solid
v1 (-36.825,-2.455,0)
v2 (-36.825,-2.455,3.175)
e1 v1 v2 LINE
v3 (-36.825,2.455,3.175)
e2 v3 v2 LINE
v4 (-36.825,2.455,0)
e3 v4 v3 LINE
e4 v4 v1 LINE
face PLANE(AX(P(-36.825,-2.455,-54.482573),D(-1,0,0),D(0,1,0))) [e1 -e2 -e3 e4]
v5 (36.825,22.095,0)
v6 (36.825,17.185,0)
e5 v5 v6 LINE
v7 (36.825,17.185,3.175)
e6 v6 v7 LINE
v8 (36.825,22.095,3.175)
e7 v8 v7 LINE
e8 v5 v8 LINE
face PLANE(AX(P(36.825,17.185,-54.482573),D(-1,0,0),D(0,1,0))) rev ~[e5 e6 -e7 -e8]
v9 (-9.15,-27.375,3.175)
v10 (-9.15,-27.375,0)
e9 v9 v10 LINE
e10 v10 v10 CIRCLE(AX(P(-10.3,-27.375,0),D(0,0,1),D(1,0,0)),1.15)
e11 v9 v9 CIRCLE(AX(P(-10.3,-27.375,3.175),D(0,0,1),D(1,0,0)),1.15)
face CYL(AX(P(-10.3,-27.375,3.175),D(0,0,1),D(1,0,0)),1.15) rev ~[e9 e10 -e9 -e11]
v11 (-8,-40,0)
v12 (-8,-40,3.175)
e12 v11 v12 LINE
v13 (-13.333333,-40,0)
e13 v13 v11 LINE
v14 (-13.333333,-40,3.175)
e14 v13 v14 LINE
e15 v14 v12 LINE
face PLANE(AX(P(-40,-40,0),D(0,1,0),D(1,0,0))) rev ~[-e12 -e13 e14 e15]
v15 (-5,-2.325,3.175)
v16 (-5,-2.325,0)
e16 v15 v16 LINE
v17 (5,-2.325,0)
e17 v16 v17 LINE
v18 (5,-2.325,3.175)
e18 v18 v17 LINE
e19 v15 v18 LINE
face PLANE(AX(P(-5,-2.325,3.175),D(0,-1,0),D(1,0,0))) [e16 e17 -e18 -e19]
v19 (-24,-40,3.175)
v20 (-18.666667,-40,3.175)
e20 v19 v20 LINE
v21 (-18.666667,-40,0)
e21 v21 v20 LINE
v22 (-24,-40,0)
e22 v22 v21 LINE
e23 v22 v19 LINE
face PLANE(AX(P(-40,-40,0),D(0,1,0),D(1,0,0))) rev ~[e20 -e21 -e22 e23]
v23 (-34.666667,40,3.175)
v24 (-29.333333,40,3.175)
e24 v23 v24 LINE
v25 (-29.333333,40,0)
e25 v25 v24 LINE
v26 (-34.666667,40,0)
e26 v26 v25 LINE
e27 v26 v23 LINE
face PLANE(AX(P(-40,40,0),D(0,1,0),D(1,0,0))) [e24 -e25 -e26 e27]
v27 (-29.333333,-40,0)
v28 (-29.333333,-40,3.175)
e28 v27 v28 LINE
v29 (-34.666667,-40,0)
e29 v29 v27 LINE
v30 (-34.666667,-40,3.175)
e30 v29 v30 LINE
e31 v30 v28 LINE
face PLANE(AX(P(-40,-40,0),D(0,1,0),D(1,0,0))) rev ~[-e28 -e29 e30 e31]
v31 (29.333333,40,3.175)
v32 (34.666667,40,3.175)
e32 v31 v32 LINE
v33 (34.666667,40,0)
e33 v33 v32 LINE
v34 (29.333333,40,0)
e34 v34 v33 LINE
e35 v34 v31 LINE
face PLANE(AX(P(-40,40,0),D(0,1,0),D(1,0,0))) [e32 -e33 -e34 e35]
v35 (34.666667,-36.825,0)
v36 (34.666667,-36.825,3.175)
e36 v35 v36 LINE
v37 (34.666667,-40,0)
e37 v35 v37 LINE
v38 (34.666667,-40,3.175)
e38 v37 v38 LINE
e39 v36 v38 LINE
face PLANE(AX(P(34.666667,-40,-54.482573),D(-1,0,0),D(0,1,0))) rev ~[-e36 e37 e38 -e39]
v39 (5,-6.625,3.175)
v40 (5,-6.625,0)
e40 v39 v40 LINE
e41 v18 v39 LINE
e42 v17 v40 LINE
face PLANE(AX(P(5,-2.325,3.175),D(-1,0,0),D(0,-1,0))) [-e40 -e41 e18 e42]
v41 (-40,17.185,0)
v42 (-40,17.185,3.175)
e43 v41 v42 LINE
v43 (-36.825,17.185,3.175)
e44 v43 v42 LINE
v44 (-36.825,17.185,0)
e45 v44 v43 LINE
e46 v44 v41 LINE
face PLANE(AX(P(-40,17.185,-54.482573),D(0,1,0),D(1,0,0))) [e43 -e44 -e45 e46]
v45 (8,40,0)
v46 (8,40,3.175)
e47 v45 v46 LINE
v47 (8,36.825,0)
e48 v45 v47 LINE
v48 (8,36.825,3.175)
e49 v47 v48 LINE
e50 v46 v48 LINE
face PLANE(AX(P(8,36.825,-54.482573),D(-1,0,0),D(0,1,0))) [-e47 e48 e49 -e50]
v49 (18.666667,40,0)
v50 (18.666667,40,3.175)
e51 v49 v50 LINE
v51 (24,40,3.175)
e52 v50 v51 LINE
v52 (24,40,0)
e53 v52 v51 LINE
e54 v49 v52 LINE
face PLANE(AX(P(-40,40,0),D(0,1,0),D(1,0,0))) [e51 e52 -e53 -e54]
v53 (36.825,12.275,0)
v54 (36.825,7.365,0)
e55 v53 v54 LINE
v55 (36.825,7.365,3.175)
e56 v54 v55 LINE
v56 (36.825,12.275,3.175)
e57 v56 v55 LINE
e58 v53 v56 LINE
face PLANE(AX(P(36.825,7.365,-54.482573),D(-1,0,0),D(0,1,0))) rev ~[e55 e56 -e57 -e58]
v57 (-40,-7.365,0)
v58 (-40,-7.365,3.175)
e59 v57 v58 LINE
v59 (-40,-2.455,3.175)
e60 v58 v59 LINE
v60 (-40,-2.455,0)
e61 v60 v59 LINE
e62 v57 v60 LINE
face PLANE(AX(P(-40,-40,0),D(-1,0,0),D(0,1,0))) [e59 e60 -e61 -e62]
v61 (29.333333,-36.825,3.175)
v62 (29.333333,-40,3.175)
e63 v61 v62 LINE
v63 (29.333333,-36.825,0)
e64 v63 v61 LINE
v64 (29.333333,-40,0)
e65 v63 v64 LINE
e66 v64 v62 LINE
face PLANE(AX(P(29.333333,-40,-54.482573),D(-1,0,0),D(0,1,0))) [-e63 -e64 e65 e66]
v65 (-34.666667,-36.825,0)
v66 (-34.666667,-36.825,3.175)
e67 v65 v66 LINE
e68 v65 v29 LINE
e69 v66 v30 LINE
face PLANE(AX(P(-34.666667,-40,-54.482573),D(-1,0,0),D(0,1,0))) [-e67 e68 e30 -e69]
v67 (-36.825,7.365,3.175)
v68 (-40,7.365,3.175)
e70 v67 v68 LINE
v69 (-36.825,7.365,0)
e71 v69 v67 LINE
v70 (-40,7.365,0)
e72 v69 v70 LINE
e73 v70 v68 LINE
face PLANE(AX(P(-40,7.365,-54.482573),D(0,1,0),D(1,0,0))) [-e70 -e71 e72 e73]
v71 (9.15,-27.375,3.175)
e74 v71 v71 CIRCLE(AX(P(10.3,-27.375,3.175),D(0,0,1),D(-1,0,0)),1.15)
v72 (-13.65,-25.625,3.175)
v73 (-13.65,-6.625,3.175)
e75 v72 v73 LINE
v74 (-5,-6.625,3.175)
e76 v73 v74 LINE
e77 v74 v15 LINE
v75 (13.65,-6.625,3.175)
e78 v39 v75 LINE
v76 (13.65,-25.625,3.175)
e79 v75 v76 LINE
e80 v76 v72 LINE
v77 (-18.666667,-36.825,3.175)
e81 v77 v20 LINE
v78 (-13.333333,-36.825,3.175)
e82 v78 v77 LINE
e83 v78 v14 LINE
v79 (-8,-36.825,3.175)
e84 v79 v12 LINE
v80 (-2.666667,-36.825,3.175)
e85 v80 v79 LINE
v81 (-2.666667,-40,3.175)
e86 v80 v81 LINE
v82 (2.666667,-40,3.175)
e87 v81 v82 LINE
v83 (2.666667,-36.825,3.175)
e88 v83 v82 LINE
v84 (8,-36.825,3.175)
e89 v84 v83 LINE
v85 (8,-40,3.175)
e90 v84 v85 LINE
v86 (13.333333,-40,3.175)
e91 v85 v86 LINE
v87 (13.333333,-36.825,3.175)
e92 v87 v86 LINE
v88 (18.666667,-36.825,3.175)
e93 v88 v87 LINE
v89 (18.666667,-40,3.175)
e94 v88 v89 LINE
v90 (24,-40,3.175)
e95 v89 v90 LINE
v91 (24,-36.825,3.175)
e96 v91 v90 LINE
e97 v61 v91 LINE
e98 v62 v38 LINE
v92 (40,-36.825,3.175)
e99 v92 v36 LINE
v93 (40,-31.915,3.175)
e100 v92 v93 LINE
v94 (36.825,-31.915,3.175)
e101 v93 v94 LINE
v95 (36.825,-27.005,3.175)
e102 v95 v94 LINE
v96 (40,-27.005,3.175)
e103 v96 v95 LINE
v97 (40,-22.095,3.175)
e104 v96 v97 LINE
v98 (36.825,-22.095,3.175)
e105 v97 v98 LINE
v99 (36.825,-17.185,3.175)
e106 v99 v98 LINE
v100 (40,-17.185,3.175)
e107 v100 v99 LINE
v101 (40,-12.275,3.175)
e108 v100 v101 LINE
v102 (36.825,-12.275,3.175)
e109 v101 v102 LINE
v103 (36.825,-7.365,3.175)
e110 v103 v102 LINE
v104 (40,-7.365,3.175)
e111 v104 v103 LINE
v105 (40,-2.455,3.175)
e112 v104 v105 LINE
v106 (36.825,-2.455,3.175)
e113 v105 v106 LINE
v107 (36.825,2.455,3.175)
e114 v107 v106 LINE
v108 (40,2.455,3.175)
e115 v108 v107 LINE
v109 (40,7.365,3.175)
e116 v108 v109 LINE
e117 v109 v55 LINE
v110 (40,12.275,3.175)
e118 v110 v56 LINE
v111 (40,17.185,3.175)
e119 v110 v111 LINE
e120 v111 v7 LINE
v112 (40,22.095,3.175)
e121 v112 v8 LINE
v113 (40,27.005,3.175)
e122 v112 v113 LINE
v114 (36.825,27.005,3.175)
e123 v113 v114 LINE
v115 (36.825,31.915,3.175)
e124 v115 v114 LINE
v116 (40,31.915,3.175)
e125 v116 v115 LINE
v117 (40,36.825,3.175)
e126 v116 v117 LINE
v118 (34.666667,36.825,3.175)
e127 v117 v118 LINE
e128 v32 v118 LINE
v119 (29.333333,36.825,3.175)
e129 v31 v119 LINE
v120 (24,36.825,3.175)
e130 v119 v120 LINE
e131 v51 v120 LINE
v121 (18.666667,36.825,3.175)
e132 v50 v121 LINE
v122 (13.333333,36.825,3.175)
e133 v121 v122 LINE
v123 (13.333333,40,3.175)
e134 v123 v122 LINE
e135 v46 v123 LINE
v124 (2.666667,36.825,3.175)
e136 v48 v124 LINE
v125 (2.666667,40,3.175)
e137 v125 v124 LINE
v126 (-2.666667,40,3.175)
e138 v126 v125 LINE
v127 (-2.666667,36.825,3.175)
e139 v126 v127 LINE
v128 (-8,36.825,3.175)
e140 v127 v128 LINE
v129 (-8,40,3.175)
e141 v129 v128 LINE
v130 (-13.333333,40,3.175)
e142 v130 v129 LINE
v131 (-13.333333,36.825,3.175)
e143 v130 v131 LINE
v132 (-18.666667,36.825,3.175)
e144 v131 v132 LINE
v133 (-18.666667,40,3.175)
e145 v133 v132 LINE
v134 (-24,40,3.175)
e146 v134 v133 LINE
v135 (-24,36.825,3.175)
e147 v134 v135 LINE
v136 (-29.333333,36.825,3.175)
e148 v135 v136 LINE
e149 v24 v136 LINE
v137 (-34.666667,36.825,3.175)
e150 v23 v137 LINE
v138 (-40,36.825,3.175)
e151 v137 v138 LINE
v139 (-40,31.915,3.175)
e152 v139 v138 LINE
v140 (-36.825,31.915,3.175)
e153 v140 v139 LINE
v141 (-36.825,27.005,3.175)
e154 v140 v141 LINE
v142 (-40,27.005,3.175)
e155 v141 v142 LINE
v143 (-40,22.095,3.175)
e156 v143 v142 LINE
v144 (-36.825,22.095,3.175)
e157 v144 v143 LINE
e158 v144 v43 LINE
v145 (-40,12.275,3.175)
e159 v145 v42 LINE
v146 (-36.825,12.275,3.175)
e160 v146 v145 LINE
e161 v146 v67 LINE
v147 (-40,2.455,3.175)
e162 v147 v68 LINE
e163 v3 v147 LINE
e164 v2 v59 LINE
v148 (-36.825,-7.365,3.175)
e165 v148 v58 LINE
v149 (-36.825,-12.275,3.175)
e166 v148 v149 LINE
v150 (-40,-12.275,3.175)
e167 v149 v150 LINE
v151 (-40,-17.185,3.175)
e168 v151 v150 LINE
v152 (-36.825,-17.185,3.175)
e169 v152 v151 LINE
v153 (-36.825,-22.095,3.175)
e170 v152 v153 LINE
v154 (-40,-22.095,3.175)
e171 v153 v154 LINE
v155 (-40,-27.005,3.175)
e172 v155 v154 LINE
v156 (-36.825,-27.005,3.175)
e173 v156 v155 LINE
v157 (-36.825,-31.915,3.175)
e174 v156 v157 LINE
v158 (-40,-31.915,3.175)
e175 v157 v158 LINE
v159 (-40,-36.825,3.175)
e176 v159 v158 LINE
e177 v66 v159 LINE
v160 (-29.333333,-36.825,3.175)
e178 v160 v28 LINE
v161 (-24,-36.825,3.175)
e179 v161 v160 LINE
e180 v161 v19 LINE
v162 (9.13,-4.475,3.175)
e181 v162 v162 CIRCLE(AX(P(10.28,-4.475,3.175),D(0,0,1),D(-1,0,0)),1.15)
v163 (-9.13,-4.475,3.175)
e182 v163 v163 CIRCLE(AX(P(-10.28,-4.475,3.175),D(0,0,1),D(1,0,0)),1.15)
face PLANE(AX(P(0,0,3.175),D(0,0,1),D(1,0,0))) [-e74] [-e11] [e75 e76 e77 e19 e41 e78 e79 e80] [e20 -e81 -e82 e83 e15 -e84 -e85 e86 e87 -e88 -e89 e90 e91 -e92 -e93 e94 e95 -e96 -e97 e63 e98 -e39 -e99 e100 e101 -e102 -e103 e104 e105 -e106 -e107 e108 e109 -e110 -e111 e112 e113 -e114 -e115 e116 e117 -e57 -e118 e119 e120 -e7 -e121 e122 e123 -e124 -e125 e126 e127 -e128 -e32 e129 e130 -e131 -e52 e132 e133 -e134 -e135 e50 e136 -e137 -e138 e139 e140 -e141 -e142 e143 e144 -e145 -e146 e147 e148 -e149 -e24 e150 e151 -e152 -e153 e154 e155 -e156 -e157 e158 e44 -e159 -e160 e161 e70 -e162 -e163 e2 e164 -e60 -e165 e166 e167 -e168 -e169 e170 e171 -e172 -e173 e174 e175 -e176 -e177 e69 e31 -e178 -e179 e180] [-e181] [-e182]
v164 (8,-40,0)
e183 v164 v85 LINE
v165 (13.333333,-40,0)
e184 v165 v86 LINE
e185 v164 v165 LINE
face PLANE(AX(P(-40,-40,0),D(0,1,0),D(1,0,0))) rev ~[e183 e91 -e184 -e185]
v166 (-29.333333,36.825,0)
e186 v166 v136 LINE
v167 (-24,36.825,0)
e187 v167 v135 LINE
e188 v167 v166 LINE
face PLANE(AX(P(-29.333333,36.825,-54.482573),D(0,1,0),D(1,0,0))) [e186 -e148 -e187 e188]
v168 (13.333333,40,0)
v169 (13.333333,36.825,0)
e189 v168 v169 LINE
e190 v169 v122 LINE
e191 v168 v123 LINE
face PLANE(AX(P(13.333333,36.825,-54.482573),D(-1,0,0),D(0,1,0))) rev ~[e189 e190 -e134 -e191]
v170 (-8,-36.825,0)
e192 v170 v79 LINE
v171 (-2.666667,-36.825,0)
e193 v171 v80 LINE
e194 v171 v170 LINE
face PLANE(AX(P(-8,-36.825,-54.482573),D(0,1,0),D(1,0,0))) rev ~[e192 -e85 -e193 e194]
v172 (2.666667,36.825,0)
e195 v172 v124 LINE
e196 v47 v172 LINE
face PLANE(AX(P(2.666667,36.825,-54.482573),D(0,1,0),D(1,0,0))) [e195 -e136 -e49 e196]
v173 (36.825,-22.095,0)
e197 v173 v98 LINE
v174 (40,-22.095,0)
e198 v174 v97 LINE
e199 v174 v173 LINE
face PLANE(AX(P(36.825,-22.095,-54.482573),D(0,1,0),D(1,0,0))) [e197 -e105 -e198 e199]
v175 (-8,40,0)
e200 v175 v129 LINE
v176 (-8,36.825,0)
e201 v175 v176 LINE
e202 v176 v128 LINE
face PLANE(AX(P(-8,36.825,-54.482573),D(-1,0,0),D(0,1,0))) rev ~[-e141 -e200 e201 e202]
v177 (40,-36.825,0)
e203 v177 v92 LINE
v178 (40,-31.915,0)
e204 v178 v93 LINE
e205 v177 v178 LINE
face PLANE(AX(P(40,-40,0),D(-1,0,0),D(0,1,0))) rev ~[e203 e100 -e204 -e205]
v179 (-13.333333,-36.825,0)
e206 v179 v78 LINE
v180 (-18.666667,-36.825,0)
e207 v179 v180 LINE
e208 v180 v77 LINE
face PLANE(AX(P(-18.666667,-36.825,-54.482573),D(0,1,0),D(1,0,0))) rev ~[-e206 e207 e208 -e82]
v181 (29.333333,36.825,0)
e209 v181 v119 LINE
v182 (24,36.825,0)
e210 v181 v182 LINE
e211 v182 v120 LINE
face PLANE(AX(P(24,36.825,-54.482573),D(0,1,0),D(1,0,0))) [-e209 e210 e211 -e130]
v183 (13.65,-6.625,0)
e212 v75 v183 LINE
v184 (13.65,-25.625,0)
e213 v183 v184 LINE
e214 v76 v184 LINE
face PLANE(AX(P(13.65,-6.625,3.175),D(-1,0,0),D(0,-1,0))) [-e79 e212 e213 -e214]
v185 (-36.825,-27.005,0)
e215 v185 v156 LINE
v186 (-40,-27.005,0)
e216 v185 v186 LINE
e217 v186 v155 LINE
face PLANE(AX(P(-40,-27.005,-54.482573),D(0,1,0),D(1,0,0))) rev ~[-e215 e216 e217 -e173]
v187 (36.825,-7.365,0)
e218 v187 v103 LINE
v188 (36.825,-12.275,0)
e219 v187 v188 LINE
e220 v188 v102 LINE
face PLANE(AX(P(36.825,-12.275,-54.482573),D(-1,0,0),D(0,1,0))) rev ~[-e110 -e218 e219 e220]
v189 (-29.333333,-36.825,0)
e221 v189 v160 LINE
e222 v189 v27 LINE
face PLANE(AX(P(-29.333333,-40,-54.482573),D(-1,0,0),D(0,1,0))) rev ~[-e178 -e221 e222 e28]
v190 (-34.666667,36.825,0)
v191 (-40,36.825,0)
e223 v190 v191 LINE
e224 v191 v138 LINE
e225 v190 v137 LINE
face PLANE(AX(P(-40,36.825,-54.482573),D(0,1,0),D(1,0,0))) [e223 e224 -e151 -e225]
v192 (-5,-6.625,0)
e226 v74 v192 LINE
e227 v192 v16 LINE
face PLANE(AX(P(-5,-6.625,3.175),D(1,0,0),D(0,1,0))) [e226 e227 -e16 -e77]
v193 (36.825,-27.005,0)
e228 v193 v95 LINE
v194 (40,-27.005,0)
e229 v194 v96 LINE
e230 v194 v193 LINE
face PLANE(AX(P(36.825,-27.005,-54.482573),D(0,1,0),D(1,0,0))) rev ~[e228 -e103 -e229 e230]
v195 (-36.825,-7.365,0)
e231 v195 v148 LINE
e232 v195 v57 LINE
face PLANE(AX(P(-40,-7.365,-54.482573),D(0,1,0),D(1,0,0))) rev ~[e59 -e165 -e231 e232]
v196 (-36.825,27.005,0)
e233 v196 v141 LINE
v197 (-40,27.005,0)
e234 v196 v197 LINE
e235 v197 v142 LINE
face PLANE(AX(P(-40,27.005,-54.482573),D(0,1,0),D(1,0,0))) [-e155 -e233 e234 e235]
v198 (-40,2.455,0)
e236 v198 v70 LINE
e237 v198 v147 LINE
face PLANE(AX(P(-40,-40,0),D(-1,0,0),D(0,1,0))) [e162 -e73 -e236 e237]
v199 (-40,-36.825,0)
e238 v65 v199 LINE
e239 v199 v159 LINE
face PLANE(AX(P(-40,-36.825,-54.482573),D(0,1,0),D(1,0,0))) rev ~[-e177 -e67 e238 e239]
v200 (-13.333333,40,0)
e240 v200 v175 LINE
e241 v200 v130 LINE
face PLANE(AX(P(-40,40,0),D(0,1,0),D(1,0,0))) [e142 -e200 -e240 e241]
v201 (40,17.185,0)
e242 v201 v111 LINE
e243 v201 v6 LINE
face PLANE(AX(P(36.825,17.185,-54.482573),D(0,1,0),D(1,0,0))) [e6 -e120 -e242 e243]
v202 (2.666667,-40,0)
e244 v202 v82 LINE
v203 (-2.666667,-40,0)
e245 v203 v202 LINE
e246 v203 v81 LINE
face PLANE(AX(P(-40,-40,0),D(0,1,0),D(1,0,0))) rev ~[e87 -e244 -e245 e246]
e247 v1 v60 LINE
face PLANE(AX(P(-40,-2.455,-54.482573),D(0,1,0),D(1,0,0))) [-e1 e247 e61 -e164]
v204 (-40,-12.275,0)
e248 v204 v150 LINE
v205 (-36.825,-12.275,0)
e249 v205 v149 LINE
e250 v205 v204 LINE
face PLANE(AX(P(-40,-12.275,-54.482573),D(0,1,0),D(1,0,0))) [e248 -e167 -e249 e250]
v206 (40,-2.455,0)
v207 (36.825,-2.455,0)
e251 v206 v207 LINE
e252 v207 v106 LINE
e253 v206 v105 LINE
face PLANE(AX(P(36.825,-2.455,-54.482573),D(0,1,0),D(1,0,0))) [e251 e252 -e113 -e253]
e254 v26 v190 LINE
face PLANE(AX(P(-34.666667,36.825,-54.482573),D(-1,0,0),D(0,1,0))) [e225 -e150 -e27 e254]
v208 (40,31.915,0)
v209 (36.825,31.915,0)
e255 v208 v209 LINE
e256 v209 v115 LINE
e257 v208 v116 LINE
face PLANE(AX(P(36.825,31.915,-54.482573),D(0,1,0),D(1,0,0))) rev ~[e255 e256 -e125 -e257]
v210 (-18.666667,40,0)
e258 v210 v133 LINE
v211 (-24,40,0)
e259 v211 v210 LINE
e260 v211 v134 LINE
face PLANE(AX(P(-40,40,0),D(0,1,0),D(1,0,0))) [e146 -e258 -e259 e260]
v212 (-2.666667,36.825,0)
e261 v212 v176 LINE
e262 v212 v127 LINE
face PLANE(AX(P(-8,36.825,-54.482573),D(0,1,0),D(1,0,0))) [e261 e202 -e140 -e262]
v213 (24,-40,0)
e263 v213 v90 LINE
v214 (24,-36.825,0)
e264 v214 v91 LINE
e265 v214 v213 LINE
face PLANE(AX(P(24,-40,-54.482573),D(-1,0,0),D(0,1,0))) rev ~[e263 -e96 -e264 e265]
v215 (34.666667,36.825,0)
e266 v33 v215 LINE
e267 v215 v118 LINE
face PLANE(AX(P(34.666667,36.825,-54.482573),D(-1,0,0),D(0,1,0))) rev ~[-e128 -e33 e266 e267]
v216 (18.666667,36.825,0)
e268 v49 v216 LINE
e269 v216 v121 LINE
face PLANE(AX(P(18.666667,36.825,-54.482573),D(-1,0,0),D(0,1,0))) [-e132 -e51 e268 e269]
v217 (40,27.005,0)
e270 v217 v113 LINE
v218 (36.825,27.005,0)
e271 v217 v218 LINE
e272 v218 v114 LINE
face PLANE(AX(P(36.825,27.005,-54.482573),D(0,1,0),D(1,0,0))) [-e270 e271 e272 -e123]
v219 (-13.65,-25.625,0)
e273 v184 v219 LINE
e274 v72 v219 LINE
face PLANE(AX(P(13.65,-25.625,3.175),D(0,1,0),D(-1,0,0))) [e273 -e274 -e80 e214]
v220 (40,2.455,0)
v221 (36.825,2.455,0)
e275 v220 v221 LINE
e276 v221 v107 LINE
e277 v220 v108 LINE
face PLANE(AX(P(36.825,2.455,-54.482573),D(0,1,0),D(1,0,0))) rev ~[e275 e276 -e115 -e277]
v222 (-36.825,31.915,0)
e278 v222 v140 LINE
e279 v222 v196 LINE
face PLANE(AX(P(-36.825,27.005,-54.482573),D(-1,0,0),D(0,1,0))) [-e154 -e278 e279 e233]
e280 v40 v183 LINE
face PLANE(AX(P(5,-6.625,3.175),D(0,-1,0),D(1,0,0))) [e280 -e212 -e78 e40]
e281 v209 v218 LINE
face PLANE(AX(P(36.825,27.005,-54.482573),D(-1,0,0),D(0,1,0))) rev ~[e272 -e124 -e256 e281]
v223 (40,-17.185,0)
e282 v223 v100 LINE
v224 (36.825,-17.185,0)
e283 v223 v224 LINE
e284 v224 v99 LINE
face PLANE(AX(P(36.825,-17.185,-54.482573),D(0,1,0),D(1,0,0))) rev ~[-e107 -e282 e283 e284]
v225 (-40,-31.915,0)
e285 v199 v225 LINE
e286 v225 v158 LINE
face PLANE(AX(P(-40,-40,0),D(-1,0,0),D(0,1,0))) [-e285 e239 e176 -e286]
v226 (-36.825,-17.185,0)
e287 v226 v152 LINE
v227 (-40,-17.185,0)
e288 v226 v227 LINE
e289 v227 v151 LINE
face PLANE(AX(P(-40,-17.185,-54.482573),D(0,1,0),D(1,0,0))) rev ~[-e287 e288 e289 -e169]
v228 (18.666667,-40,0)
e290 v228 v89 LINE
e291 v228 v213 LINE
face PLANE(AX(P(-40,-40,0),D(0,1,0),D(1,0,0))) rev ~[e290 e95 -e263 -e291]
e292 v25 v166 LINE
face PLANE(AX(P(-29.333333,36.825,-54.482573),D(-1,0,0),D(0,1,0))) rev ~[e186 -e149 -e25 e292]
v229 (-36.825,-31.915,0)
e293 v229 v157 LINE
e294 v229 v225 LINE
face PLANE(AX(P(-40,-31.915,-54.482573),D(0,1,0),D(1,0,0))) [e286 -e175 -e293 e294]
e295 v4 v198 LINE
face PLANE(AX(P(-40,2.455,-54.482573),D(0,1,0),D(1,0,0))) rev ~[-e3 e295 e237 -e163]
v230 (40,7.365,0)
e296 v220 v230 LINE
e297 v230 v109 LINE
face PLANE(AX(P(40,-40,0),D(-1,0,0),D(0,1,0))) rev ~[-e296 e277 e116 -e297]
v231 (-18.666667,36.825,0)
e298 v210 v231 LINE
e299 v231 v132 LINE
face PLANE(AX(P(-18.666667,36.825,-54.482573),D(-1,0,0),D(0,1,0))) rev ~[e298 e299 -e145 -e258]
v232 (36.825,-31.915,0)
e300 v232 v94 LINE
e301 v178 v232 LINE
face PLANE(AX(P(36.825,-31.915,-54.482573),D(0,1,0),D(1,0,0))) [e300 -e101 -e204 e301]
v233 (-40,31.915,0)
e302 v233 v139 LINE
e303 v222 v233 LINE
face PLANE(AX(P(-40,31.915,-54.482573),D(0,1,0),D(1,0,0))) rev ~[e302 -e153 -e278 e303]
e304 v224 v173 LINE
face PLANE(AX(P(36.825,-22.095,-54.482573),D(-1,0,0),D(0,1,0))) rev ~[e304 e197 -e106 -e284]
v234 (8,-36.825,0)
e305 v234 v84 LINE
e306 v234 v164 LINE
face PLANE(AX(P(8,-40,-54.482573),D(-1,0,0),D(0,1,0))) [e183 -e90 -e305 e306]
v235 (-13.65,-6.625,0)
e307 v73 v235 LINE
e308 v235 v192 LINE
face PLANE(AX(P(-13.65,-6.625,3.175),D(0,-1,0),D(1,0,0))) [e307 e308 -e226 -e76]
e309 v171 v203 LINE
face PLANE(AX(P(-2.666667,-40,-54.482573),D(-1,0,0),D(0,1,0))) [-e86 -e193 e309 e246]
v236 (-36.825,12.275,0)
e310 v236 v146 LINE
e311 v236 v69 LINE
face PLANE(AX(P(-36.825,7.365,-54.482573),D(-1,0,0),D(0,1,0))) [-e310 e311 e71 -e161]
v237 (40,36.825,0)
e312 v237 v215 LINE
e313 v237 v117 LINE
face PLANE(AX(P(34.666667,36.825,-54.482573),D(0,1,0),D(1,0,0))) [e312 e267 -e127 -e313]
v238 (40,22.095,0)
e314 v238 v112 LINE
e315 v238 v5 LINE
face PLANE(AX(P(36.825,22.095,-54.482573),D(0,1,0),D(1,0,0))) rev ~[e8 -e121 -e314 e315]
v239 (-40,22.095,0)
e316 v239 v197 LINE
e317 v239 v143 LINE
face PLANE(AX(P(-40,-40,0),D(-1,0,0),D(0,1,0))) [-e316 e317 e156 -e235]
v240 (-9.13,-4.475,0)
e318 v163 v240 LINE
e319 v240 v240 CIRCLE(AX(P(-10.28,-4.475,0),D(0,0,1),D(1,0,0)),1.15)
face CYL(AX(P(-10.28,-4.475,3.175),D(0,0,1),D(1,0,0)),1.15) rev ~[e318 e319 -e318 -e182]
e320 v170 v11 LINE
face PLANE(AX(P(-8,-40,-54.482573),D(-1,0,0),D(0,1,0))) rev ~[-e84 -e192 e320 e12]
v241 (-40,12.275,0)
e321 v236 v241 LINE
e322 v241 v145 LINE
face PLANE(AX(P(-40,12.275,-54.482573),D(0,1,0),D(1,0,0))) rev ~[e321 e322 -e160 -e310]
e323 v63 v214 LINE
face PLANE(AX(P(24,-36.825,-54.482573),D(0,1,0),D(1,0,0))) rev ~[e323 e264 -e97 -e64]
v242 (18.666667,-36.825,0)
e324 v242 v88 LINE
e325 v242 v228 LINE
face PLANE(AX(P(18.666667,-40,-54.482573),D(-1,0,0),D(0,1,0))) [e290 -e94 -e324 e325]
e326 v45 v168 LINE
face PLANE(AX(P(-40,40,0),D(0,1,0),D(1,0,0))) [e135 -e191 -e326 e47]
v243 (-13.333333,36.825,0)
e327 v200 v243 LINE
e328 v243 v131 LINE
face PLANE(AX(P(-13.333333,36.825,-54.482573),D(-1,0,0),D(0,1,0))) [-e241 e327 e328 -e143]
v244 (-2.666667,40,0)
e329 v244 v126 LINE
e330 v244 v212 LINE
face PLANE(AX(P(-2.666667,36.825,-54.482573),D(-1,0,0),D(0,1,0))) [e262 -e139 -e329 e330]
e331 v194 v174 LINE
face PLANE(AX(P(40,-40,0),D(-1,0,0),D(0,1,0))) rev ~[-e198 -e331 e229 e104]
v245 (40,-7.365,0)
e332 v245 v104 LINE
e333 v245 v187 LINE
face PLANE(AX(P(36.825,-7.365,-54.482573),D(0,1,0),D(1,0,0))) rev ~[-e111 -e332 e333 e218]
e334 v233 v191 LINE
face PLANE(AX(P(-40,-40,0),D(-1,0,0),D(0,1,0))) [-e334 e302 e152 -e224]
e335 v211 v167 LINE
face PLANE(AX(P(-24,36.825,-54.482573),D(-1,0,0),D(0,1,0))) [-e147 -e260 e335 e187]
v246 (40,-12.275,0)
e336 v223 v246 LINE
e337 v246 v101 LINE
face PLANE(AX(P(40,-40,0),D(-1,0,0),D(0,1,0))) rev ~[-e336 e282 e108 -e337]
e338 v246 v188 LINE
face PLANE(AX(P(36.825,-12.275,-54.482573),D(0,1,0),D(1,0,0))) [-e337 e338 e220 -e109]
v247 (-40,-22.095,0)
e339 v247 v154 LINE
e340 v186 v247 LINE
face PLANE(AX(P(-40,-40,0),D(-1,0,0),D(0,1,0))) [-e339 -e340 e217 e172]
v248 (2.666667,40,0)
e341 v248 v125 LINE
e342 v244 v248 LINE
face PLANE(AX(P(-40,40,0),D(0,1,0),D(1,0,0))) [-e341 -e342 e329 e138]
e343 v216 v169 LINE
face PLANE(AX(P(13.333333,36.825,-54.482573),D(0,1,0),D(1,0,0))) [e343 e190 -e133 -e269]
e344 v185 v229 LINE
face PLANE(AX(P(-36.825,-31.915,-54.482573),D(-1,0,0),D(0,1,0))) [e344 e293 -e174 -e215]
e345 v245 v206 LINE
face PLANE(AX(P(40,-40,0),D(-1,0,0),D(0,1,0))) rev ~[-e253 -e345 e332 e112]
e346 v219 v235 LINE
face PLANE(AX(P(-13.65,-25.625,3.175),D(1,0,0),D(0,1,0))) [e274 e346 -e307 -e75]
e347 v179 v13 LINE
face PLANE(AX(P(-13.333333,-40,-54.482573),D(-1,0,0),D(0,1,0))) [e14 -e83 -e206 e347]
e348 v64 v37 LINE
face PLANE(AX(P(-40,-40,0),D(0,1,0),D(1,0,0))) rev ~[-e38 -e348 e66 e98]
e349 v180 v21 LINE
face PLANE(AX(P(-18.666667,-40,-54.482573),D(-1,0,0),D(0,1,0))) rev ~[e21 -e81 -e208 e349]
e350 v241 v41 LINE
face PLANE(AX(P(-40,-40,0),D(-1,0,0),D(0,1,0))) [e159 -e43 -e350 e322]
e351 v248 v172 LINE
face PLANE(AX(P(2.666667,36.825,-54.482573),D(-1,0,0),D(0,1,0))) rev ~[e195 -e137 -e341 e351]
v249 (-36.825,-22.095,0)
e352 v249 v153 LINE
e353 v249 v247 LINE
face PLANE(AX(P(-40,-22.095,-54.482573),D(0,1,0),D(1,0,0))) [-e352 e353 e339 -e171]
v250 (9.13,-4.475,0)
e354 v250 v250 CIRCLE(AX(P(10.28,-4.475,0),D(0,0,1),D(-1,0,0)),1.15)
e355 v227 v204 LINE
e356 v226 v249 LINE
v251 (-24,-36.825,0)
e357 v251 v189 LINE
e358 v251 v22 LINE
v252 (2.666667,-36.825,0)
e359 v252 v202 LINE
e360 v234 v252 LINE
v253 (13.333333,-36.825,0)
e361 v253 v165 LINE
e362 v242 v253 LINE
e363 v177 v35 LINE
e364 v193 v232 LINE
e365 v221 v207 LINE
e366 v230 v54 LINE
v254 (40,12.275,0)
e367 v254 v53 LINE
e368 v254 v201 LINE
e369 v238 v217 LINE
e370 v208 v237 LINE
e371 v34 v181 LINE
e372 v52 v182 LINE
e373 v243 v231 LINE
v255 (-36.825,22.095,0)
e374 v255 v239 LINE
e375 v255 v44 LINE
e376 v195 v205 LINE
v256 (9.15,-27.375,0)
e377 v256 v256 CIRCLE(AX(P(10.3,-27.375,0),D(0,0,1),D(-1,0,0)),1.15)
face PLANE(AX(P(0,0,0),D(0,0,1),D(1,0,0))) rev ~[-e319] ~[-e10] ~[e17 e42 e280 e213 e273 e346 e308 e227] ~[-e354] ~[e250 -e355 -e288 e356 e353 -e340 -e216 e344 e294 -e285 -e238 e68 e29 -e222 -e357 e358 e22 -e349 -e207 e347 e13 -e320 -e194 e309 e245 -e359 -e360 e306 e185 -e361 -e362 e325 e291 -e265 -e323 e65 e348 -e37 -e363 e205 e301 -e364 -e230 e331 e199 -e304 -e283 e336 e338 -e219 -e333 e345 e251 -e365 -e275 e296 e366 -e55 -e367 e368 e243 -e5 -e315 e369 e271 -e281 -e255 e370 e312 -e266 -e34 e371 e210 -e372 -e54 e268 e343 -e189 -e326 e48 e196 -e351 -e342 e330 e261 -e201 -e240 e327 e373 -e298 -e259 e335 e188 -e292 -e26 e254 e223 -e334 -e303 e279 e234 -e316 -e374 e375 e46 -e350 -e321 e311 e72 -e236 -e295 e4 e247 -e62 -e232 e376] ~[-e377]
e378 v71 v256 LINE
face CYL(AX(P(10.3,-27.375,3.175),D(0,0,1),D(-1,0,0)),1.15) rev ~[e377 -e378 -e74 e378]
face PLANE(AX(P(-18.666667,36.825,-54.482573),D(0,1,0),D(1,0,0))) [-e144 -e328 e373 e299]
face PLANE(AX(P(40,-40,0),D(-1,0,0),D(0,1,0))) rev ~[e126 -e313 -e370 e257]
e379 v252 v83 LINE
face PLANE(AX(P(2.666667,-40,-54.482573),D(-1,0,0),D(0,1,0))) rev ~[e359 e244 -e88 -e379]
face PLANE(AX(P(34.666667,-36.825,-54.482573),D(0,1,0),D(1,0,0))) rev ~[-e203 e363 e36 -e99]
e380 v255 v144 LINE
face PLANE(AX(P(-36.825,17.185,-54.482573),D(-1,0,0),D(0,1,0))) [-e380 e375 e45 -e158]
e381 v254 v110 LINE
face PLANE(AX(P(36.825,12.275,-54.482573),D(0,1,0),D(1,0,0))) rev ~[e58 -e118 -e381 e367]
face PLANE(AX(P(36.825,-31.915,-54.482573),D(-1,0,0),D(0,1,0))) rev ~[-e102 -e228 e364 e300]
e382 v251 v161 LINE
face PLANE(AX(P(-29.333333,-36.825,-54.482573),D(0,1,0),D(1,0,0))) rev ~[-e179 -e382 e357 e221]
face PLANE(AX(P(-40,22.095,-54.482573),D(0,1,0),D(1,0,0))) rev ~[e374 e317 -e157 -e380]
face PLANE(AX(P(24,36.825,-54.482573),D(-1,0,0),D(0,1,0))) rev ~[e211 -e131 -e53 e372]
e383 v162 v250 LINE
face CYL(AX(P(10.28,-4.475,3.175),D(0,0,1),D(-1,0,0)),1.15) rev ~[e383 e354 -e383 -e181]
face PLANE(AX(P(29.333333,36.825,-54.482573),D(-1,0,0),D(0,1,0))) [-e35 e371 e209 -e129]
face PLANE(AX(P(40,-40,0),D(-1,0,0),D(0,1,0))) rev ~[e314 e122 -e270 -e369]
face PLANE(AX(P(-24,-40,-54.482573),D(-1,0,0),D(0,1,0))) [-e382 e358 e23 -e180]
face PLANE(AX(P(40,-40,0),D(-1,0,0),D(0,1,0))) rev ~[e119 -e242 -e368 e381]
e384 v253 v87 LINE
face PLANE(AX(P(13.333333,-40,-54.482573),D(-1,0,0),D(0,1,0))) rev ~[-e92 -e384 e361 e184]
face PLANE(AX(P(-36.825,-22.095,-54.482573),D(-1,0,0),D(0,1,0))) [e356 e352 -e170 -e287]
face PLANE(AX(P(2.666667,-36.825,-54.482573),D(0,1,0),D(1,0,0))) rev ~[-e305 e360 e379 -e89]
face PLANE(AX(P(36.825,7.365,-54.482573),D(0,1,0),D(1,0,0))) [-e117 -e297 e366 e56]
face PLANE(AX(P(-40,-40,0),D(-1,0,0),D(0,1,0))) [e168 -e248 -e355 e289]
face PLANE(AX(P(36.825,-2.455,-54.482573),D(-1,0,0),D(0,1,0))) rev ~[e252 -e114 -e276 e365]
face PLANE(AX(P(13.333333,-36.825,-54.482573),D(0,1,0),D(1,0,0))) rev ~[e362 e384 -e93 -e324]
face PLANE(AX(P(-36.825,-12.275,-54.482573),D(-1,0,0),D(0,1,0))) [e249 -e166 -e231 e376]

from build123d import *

# Parameters (mm, degrees)
SKETCH1_W               = 80
SKETCH1_H               = 80
BOSS_EXTRUDE1_DEPTH     = 3.175
CUT_EXTRUDE2_DEPTH      = 57.657573413
CUT_EXTRUDE2_DEPTH_BACK = 57.657573413
SKETCH3_W               = 5.333333333
SKETCH3_H               = 3.175
SKETCH3_W_2             = 3.175
SKETCH3_H_2             = 4.91
SKETCH3_W_3             = 5.333333334
SKETCH4_R               = 1.15
CUT_EXTRUDE3_DEPTH      = 57.657573413


with BuildPart() as part:
    # Sketch1 → Boss-Extrude1 (new body)
    with BuildSketch(Plane.XY):
        Rectangle(SKETCH1_W, SKETCH1_H)
    extrude(amount=BOSS_EXTRUDE1_DEPTH)

    # Sketch3 → Cut-Extrude2 (cut, two sides: drawn at the far end of the back side and taken through both)
    with BuildSketch(Plane.XY.offset(3.175).offset(-CUT_EXTRUDE2_DEPTH_BACK)):
        with Locations((-37.333333334, -38.4125)):
            Rectangle(SKETCH3_W, SKETCH3_H)
        with Locations((-26.666666666, -38.4125)):
            Rectangle(SKETCH3_W, SKETCH3_H)
        with Locations((-38.4125, -29.46)):
            Rectangle(SKETCH3_W_2, SKETCH3_H_2)
        with Locations((-16, -38.4125)):
            Rectangle(SKETCH3_W_3, SKETCH3_H)
        with Locations((-38.4125, -19.64)):
            Rectangle(SKETCH3_W_2, SKETCH3_H_2)
        with Locations((-5.333333334, -38.4125)):
            Rectangle(SKETCH3_W, SKETCH3_H)
        with Locations((-38.4125, -9.82)):
            Rectangle(SKETCH3_W_2, SKETCH3_H_2)
        with Locations((5.333333334, -38.4125)):
            Rectangle(SKETCH3_W, SKETCH3_H)
        with Locations((-38.4125, 0)):
            Rectangle(SKETCH3_W_2, SKETCH3_H_2)
        with Locations((16, -38.4125)):
            Rectangle(SKETCH3_W_3, SKETCH3_H)
        with Locations((-38.4125, 9.82)):
            Rectangle(SKETCH3_W_2, SKETCH3_H_2)
        with Locations((26.666666666, -38.4125)):
            Rectangle(SKETCH3_W, SKETCH3_H)
        with Locations((-38.4125, 19.64)):
            Rectangle(SKETCH3_W_2, SKETCH3_H_2)
        with Locations((37.333333334, -38.4125)):
            Rectangle(SKETCH3_W, SKETCH3_H)
        with Locations((-38.4125, 29.46)):
            Rectangle(SKETCH3_W_2, SKETCH3_H_2)
        with Locations((-37.333333334, 38.4125)):
            Rectangle(SKETCH3_W, SKETCH3_H)
        with Locations((38.4125, -29.46)):
            Rectangle(SKETCH3_W_2, SKETCH3_H_2)
        with Locations((38.4125, -19.64)):
            Rectangle(SKETCH3_W_2, SKETCH3_H_2)
        with Locations((-26.666666666, 38.4125)):
            Rectangle(SKETCH3_W, SKETCH3_H)
        with Locations((38.4125, -9.82)):
            Rectangle(SKETCH3_W_2, SKETCH3_H_2)
        with Locations((-16, 38.4125)):
            Rectangle(SKETCH3_W_3, SKETCH3_H)
        with Locations((38.4125, 0)):
            Rectangle(SKETCH3_W_2, SKETCH3_H_2)
        with Locations((-5.333333334, 38.4125)):
            Rectangle(SKETCH3_W, SKETCH3_H)
        with Locations((38.4125, 9.82)):
            Rectangle(SKETCH3_W_2, SKETCH3_H_2)
        with Locations((5.333333334, 38.4125)):
            Rectangle(SKETCH3_W, SKETCH3_H)
        with Locations((38.4125, 19.64)):
            Rectangle(SKETCH3_W_2, SKETCH3_H_2)
        with Locations((16, 38.4125)):
            Rectangle(SKETCH3_W_3, SKETCH3_H)
        with Locations((38.4125, 29.46)):
            Rectangle(SKETCH3_W_2, SKETCH3_H_2)
        with Locations((26.666666666, 38.4125)):
            Rectangle(SKETCH3_W, SKETCH3_H)
        with Locations((37.333333334, 38.4125)):
            Rectangle(SKETCH3_W, SKETCH3_H)
    extrude(amount=CUT_EXTRUDE2_DEPTH + CUT_EXTRUDE2_DEPTH_BACK, mode=Mode.SUBTRACT)

    # Sketch4 → Cut-Extrude3 (cut, through all)
    with BuildSketch(Plane.XY.offset(3.175)):
        with Locations((-10.28, -4.475)):
            Circle(SKETCH4_R)
        with Locations((-10.3, -27.375)):
            Circle(SKETCH4_R)
        with Locations(Location((10.3, -27.375, 0), (0, 0, 180))):
            Circle(SKETCH4_R)
        with Locations(Location((10.28, -4.475, 0), (0, 0, 180))):
            Circle(SKETCH4_R)
        Polygon((5, -2.325), (5, -6.625), (13.65, -6.625), (13.65, -25.625), (-13.65, -25.625), (-13.65, -6.625), (-5, -6.625), (-5, -2.325), align=None)
    extrude(amount=-CUT_EXTRUDE3_DEPTH, mode=Mode.SUBTRACT)


solid = part.part
